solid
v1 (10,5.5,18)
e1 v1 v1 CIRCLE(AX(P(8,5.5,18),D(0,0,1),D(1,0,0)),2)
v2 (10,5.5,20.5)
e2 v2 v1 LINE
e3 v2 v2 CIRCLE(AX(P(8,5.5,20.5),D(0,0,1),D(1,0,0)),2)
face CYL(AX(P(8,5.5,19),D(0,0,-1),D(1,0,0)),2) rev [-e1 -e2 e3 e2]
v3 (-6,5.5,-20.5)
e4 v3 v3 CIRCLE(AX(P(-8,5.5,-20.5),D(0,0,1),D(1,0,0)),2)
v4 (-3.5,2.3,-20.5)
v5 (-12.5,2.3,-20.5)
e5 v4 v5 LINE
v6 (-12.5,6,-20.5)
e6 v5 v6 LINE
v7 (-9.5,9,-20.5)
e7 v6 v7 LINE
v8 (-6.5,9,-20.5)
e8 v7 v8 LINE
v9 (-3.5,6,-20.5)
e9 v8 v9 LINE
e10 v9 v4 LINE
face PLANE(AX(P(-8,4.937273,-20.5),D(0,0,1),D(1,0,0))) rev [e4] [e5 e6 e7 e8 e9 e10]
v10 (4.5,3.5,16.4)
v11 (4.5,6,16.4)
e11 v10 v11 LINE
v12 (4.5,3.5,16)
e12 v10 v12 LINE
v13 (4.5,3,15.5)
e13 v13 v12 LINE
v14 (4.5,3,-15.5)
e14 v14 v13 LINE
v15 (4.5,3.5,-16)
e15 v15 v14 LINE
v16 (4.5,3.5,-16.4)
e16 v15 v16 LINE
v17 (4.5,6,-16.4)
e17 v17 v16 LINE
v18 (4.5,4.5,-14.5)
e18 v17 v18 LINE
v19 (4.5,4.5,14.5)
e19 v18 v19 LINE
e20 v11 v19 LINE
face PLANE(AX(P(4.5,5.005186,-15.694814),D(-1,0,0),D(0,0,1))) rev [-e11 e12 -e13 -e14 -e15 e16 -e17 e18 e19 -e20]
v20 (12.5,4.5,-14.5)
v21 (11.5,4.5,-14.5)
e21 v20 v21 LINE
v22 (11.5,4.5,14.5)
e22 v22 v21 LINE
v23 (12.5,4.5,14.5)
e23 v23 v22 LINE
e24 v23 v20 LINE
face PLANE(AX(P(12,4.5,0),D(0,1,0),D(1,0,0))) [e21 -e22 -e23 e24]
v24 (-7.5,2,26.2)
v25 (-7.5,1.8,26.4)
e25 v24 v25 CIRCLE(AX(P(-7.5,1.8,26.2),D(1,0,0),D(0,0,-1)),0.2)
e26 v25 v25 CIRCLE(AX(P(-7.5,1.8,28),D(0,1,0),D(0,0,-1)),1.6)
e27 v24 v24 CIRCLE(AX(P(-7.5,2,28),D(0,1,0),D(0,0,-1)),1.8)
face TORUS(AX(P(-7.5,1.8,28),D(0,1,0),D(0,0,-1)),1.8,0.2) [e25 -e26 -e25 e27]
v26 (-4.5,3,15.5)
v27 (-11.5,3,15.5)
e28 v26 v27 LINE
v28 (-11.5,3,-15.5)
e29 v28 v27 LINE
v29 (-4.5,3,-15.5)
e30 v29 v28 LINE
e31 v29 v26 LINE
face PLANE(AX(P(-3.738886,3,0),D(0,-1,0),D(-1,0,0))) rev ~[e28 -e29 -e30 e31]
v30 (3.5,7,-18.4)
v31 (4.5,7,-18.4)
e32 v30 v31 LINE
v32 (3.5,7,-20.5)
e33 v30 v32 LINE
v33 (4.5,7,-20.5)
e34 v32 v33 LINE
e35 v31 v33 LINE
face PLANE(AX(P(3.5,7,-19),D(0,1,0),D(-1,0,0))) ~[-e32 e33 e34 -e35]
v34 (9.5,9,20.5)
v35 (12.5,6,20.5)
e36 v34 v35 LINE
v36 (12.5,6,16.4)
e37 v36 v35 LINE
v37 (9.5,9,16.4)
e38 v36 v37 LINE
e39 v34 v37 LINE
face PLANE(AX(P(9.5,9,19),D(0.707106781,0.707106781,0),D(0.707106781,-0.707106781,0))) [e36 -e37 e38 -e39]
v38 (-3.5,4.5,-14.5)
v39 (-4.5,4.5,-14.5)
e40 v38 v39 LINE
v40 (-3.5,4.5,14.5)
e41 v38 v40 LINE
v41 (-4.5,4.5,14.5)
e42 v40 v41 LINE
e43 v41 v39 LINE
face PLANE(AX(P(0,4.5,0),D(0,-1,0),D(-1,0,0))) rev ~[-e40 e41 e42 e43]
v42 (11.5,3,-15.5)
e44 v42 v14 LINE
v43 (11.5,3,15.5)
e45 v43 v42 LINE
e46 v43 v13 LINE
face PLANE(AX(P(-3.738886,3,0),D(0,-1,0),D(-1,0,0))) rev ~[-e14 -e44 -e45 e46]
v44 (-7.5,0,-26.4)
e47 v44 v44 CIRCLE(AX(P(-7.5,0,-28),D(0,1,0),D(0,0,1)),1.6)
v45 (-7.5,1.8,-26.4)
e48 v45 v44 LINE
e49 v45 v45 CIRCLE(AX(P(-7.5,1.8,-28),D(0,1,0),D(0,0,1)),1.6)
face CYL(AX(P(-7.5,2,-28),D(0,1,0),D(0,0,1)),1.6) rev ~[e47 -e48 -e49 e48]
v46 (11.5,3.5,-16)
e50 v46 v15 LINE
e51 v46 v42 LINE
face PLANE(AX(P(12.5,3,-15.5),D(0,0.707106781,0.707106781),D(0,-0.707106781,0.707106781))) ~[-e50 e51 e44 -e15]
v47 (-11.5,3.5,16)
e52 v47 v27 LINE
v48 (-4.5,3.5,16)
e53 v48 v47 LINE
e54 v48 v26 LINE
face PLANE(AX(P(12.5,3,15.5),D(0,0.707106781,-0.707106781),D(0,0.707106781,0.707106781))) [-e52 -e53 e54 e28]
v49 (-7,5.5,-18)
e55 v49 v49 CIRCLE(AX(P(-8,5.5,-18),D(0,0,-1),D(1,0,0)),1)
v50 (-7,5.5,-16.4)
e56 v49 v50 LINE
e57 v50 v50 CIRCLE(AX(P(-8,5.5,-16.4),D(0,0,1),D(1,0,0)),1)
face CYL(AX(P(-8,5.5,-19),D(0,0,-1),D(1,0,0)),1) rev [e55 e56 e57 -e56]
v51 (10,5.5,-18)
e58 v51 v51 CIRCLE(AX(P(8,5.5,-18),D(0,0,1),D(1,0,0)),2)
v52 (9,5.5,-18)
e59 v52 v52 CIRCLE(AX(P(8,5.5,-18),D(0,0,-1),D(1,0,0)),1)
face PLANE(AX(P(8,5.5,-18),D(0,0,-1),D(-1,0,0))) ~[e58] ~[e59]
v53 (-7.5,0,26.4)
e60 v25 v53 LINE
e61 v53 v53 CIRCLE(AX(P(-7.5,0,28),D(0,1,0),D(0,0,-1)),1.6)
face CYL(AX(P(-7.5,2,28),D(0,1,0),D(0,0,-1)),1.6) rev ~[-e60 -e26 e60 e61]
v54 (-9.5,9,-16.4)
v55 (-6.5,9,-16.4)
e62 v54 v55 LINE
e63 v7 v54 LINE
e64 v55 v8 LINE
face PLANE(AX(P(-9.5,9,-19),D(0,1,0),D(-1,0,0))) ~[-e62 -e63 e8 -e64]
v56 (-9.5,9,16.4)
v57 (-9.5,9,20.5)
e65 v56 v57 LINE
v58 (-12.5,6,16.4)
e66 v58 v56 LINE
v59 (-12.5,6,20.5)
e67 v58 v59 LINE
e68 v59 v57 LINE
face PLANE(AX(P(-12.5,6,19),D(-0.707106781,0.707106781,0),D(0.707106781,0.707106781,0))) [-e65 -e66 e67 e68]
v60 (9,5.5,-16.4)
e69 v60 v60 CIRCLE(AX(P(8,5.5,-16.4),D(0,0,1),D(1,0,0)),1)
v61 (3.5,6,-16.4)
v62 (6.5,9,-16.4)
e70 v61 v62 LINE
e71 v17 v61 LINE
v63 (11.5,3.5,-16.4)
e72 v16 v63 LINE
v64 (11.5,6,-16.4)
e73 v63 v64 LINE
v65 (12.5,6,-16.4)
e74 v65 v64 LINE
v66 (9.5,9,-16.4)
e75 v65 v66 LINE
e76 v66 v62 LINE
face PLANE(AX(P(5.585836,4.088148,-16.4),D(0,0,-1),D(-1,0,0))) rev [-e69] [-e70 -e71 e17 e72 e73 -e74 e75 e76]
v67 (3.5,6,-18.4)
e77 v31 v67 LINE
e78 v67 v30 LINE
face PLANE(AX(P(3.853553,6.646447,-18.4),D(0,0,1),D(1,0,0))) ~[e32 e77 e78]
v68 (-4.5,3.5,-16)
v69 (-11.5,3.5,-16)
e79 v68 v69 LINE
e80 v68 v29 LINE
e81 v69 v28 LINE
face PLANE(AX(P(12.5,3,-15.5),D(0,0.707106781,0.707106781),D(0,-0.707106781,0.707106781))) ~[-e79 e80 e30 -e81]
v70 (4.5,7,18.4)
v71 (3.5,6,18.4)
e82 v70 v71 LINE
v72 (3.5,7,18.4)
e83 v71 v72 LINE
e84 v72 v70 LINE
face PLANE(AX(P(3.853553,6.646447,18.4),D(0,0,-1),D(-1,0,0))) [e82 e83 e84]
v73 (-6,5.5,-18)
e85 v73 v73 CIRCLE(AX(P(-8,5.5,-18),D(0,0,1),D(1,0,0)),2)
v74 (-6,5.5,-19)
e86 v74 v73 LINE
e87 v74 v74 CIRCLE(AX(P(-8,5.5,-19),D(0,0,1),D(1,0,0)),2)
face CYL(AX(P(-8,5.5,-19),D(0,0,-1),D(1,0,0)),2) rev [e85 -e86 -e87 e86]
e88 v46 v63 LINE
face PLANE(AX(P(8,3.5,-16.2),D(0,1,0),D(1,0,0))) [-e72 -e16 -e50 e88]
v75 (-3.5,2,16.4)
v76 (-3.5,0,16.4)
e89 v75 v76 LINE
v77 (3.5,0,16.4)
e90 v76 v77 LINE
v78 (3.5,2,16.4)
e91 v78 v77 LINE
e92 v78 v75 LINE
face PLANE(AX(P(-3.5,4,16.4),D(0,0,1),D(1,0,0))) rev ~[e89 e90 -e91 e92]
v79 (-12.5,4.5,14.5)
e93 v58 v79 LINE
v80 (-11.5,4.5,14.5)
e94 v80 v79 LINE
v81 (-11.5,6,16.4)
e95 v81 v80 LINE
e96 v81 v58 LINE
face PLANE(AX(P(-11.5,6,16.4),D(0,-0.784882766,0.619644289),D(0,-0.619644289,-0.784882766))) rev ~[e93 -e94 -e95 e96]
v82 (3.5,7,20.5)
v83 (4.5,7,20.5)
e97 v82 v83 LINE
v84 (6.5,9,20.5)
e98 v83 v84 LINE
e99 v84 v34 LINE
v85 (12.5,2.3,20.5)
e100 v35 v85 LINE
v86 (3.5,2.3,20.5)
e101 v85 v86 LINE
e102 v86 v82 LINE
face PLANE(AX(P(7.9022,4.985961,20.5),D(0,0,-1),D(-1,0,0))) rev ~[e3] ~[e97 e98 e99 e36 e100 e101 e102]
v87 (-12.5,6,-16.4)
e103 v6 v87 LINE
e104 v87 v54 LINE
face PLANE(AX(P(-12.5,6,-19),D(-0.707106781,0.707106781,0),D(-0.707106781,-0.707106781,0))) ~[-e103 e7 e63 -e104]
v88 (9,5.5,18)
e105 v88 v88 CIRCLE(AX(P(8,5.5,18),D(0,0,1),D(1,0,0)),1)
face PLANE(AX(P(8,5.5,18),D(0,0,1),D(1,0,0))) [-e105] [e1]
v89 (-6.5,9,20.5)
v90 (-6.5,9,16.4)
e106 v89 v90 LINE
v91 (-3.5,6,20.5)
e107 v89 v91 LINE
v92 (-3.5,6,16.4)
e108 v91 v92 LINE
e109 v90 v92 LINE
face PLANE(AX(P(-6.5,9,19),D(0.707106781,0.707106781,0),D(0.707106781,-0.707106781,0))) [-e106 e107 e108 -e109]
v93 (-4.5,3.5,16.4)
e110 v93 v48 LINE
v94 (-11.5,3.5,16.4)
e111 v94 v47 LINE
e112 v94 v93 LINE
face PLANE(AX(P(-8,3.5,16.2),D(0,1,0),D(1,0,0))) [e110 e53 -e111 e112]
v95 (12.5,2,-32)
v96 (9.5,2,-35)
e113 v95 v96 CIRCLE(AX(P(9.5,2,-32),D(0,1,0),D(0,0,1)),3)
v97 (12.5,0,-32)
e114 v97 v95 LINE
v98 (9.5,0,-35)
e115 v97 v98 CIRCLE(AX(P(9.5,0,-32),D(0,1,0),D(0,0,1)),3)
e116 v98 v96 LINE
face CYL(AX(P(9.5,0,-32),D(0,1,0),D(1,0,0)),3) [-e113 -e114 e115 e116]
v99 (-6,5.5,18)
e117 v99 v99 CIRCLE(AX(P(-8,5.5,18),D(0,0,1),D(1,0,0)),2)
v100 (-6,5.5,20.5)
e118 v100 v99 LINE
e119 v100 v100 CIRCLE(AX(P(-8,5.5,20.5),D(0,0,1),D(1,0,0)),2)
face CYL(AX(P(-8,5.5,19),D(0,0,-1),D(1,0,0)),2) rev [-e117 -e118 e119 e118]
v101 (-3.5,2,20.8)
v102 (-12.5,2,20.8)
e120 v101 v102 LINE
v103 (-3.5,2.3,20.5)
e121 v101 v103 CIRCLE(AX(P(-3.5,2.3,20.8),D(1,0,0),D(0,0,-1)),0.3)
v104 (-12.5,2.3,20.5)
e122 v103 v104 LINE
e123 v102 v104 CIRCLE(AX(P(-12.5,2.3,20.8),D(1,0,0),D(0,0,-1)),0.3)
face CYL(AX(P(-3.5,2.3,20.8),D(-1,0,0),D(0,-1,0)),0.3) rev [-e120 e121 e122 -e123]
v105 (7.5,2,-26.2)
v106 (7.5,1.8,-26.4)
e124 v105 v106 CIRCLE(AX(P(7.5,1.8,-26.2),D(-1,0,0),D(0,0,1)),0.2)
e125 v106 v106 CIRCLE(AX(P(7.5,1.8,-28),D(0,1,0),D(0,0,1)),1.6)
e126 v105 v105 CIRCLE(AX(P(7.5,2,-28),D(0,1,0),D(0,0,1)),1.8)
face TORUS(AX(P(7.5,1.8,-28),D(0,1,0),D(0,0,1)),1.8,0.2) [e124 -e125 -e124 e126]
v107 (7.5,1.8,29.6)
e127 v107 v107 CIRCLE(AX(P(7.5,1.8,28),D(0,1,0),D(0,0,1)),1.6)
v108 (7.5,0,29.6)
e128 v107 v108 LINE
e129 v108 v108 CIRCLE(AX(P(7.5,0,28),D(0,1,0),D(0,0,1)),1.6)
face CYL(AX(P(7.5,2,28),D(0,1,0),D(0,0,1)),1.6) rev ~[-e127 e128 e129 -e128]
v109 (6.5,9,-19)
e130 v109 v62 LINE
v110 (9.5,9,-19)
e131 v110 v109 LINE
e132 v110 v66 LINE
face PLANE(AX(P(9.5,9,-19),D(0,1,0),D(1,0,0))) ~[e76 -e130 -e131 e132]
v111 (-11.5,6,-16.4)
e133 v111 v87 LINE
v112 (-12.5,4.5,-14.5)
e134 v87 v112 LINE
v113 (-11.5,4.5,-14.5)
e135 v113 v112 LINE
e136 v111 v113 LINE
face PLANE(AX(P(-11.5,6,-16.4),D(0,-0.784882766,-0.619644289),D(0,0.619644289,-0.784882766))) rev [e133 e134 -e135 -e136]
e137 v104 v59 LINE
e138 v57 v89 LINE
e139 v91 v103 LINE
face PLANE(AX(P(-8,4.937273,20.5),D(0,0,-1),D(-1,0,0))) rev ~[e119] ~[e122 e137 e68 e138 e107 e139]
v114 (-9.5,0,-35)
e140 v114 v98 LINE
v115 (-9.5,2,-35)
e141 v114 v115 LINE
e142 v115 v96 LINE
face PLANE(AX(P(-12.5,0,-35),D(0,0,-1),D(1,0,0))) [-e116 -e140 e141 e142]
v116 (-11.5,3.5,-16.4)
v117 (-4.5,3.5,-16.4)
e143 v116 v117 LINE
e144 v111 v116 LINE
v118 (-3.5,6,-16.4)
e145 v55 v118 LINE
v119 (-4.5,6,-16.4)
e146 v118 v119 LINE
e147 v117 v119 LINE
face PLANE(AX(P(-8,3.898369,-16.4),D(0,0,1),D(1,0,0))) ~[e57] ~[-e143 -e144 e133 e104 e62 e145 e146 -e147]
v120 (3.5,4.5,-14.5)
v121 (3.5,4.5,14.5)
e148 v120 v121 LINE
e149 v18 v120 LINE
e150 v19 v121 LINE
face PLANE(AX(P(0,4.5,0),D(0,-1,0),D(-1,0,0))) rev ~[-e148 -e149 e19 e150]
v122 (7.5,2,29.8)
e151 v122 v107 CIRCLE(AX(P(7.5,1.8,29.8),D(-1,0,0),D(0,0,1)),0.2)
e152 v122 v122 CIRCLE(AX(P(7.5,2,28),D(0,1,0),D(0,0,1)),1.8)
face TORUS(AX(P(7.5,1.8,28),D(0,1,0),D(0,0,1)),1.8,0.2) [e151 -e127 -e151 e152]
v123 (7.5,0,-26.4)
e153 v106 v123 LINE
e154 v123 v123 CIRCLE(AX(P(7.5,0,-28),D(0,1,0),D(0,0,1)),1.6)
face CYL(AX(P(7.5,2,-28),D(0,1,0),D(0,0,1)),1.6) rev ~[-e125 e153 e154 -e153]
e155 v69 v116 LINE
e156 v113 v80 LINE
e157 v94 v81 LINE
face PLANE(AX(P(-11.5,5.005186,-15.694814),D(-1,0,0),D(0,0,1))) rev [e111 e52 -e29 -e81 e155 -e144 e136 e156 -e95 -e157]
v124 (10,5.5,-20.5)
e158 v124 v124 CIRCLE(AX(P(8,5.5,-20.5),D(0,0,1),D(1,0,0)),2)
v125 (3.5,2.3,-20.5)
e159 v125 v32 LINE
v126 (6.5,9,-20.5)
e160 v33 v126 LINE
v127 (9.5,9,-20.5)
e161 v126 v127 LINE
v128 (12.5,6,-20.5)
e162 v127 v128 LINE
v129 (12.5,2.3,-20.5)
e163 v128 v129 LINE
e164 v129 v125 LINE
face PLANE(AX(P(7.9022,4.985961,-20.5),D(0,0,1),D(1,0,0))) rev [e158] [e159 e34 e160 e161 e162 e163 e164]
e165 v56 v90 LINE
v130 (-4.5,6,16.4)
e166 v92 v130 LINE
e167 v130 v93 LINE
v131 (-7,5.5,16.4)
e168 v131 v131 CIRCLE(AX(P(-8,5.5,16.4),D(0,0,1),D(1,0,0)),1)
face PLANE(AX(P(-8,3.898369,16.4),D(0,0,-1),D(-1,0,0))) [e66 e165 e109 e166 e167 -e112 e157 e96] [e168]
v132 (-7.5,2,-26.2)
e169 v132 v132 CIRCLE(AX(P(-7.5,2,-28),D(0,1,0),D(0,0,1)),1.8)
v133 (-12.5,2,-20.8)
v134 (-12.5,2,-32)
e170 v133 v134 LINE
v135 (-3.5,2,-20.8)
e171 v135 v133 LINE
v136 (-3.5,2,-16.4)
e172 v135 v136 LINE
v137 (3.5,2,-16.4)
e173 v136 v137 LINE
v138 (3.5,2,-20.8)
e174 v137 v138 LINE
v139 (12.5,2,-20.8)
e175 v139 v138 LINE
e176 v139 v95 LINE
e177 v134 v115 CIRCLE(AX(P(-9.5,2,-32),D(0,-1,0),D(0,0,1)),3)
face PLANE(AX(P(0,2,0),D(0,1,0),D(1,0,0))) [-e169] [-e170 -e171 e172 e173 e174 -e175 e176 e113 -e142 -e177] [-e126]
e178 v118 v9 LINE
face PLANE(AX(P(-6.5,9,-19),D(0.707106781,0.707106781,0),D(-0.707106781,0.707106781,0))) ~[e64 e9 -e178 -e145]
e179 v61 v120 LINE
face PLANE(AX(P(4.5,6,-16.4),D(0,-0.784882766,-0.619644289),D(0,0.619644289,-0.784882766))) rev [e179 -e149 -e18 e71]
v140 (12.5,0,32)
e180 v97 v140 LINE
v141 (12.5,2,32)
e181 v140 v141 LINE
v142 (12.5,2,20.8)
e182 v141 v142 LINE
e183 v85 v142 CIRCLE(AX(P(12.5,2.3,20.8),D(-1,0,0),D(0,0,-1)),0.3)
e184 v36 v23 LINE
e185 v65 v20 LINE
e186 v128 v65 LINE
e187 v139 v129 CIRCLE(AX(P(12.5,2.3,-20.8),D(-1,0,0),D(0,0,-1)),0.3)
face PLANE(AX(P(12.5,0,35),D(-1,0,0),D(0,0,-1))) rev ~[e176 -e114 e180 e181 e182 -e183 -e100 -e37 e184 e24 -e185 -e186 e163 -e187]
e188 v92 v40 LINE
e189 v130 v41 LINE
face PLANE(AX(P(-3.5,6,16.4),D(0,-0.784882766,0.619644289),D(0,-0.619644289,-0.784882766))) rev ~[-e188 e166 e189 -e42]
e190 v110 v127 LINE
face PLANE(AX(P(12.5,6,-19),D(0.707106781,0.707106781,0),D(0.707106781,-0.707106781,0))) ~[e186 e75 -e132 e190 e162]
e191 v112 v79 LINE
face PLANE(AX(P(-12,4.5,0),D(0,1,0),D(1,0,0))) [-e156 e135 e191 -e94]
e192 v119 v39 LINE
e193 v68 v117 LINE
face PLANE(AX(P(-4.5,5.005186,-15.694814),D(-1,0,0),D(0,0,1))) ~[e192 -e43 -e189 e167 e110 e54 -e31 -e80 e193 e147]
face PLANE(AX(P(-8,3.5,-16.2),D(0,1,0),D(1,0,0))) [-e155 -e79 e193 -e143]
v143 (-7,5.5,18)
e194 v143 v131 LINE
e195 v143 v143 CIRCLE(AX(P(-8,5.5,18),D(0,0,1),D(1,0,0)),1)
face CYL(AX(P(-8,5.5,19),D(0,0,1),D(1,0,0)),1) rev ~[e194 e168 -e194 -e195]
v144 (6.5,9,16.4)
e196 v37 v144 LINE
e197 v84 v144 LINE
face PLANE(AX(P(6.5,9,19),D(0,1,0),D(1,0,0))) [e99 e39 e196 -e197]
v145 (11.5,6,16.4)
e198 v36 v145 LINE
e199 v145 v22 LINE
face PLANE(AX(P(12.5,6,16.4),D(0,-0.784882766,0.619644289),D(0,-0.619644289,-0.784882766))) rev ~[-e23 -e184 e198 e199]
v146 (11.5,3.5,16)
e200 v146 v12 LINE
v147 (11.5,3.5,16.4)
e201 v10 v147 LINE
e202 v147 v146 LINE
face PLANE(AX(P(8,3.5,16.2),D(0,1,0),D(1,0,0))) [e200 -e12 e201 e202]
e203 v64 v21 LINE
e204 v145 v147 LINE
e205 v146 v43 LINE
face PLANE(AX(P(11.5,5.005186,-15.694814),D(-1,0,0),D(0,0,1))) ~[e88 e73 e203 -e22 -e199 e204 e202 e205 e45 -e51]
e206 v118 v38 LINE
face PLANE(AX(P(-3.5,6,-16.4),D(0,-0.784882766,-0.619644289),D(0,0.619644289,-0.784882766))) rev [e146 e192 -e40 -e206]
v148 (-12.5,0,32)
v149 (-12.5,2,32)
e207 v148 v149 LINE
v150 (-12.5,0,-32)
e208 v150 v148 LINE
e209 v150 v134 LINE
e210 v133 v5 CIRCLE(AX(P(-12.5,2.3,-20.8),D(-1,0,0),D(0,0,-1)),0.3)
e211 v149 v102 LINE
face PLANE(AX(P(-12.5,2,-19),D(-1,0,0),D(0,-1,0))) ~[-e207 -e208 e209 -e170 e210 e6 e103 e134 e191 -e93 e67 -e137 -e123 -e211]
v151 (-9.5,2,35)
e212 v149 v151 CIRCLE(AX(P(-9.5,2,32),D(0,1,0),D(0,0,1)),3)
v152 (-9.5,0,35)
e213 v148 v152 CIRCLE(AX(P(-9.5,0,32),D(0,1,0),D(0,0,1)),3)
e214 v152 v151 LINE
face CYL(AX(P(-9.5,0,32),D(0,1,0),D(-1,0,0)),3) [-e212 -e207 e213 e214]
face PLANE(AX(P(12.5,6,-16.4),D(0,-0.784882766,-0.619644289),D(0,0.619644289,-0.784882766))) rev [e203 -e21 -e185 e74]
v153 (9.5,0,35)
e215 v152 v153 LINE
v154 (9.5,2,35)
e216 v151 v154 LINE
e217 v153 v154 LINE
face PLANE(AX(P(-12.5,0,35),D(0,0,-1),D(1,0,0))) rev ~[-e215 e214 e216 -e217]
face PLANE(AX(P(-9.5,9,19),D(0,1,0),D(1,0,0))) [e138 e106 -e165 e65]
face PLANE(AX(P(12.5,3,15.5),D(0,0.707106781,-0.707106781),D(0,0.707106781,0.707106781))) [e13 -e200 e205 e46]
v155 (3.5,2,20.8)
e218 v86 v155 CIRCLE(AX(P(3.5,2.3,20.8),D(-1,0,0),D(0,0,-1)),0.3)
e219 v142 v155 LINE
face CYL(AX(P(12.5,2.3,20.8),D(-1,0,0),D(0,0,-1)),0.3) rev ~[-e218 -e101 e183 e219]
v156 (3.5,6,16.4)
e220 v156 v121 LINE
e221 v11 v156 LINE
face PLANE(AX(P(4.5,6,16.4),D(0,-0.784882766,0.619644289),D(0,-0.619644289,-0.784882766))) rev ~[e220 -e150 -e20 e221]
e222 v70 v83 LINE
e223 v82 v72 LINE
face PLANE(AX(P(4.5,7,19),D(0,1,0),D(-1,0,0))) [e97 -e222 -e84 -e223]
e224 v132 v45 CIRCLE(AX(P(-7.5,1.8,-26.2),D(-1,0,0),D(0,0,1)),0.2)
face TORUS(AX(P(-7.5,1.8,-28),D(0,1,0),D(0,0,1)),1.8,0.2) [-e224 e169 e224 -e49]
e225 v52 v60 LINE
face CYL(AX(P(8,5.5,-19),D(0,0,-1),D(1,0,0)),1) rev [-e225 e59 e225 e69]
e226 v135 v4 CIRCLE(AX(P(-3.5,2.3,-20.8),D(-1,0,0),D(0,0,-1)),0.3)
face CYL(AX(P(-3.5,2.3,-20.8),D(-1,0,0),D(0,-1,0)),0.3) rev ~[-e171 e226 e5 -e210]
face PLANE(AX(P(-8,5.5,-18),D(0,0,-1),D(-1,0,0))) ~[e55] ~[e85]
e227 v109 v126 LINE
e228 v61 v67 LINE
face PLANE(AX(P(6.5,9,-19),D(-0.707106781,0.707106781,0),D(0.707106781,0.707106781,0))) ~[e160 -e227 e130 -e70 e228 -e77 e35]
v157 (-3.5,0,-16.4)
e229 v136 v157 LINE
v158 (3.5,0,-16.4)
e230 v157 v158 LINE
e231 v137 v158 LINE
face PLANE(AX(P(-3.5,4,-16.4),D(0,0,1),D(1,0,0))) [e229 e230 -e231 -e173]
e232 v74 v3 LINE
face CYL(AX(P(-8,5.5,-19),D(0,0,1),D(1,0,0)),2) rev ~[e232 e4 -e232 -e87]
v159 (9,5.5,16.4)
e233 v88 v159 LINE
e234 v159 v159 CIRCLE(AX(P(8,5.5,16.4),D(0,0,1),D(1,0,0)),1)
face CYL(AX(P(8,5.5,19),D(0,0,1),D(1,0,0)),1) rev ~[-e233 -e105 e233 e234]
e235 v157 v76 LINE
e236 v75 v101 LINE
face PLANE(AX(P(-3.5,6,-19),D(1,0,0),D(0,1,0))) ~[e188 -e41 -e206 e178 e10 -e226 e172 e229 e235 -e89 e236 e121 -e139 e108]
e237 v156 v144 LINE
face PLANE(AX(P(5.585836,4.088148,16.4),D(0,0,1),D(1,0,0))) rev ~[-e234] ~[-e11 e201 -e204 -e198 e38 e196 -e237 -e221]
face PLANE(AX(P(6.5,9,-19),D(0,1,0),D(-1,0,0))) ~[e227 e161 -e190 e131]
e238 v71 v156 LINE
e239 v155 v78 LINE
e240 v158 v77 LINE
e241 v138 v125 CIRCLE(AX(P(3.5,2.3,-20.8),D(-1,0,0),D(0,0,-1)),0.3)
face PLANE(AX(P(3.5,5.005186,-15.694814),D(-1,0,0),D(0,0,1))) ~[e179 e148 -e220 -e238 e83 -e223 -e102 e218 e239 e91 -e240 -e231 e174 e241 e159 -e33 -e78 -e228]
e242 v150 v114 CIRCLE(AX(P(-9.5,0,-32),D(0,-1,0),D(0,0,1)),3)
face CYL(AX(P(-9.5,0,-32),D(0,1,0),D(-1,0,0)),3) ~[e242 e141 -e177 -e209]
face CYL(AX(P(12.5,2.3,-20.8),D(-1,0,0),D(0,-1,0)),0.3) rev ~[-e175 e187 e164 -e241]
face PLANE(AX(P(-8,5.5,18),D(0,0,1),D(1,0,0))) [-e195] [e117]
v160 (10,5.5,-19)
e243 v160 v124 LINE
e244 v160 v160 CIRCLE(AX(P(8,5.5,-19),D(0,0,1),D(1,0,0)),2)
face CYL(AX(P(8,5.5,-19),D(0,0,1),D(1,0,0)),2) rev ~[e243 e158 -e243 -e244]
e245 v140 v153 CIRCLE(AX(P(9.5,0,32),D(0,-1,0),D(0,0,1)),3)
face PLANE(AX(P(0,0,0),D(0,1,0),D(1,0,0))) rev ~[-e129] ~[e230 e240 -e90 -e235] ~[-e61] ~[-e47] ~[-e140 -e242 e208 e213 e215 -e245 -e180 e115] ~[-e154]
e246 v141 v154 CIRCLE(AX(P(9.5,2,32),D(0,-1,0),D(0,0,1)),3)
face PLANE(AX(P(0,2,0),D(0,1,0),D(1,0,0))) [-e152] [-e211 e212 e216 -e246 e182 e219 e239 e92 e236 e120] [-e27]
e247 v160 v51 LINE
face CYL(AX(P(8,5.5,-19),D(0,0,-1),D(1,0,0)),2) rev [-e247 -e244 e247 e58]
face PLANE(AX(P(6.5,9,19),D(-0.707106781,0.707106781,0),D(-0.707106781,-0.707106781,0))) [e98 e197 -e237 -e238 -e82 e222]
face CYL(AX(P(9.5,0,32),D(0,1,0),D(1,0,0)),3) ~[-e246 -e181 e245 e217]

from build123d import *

# Parameters (mm, degrees)
SKETCH1_R                = 1.5
SKETCH1_R_2              = 1
SKETCH1_W                = 6
SKETCH1_H                = 10
EXTRUDE1_DEPTH           = 3
EXTRUDE2_DEPTH           = 4
EXTRUDE3_DEPTH           = 4
SKETCH7_W                = 1
SKETCH7_H                = 38
SKETCH7_W_2              = 6
SKETCH7_H_2              = 10
EXTRUDE4_DEPTH           = 4.5
EXTRUDE5_DEPTH           = 6
SKETCH9_R                = 5.5
SKETCH9_R_2              = 1.5
EXTRUDE10_DEPTH          = 3.5
EXTRUDE11_DEPTH          = 6
EXTRUDE12_DEPTH          = 4
CUT_EXTRUDE1_DEPTH       = 4
CUT_EXTRUDE2_DEPTH       = 4
SKETCH16_R               = 1
EXTRUDE13_DEPTH          = 2.6
CUT_EXTRUDE4_DEPTH       = 3
CUT_EXTRUDE5_DEPTH       = 32.906112267
CUT_EXTRUDE6_DEPTH       = 2
EXTRUDE14_DEPTH          = 25
EXTRUDE15_DEPTH          = 1
EXTRUDE17_DEPTH          = 1
EXTRUDE18_DEPTH          = 1
EXTRUDE19_DEPTH          = 1
CUT_EXTRUDE7_DEPTH       = 43.121847063
SKETCH26_R               = 2
CUT_EXTRUDE8_DEPTH       = 1
SKETCH27_R               = 4
CUT_EXTRUDE9_DEPTH       = 1.5
SKETCH28_R               = 4
CUT_EXTRUDE10_DEPTH      = 1
CUT_EXTRUDE11_DEPTH      = 1.5
FILLET4_R                = 0.25
CUT_EXTRUDE12_DEPTH      = 1.5
SKETCH31_W               = 16.002833782
SKETCH31_H               = 38
CUT_EXTRUDE13_DEPTH      = 32.906112267
CUT_EXTRUDE14_DEPTH      = 14.5
CUT_EXTRUDE14_DEPTH_BACK = 14.5
EXTRUDE20_DEPTH          = 15
EXTRUDE20_DEPTH_BACK     = 15
EXTRUDE21_DEPTH          = 1
CUT_EXTRUDE15_DEPTH      = 0.5
SKETCH36_R               = 1
CUT_EXTRUDE16_DEPTH      = 10.5
SKETCH37_W               = 7
SKETCH37_H               = 2.6
CUT_EXTRUDE18_DEPTH      = 25.459149617
SKETCH38_W               = 25
SKETCH38_H               = 70
BOSS_EXTRUDE1_DEPTH      = 2
FILLET5_R                = 3
SKETCH40_W               = 7
SKETCH40_H               = 22
CUT_EXTRUDE20_DEPTH      = 1
SKETCH41_W               = 7
SKETCH41_H               = 20
BOSS_EXTRUDE2_DEPTH      = 1
SKETCH44_W               = 7
SKETCH44_H               = 10.4
CUT_EXTRUDE22_DEPTH      = 38.5
SKETCH45_W               = 7
SKETCH45_H               = 12
CUT_EXTRUDE23_DEPTH      = 38.436613095
SKETCH46_W               = 7
SKETCH46_H               = 0.4
BOSS_EXTRUDE3_DEPTH      = 0.5
SKETCH47_R               = 2
BOSS_EXTRUDE4_DEPTH      = 1.5
FILLET6_R                = 0.3
SKETCH49_R               = 1.6
CUT_EXTRUDE24_DEPTH      = 38.818646195
FILLET7_R                = 0.2


with BuildPart() as part:
    # Sketch1 → Extrude1 (new body)
    with BuildSketch(Plane(origin=(0, 0, 0), x_dir=(1, 0, 0), z_dir=(0, 1, 0))):
        with BuildLine():
            Line((-12.5, -19), (-12.5, -12.75))
            ThreePointArc((-12.5, -12.75), (-13.085786438, -11.335786438), (-14.5, -10.75))
            Line((-14.5, -10.75), (-19, -10.75))
            ThreePointArc((-19, -10.75), (-22.535533906, -9.285533906), (-24, -5.75))
            Line((-24, -5.75), (-24, 5.75))
            ThreePointArc((-24, 5.75), (-22.535533906, 9.285533906), (-19, 10.75))
            Line((-19, 10.75), (-14.5, 10.75))
            ThreePointArc((-14.5, 10.75), (-13.085786438, 11.335786438), (-12.5, 12.75))
            Line((-12.5, 12.75), (-12.5, 19))
            Line((-12.5, 19), (12.5, 19))
            Line((12.5, 19), (12.5, -19))
            Line((12.5, -19), (-12.5, -19))
        make_face()
        with Locations(Location((-14.5, 0, 0), (0, 0, 270))):
            Circle(SKETCH1_R, mode=Mode.SUBTRACT)
        with Locations(Location((0, 8, 0), (0, 0, 270))):
            Circle(SKETCH1_R_2, mode=Mode.SUBTRACT)
        with Locations(Location((8, 0, 0), (0, 0, 270))):
            Circle(SKETCH1_R_2, mode=Mode.SUBTRACT)
        with Locations(Location((0, -8, 0), (0, 0, 270))):
            Circle(SKETCH1_R_2, mode=Mode.SUBTRACT)
        with Locations(Location((-8, 0, 0), (0, 0, 270))):
            Circle(SKETCH1_R_2, mode=Mode.SUBTRACT)
        with Locations(Location((-20.156854249, 5.656854249, 0), (0, 0, 270))):
            Circle(SKETCH1_R_2, mode=Mode.SUBTRACT)
        with Locations(Location((-20.156854249, -5.656854249, 0), (0, 0, 270))):
            Circle(SKETCH1_R_2, mode=Mode.SUBTRACT)
        with Locations(Location((-8.843145751, -5.656854249, 0), (0, 0, 270))):
            Circle(SKETCH1_R_2, mode=Mode.SUBTRACT)
        with Locations(Location((-8.843145751, 5.656854249, 0), (0, 0, 270))):
            Circle(SKETCH1_R_2, mode=Mode.SUBTRACT)
        with Locations(Location((8, 8, 0), (0, 0, 270))):
            Circle(SKETCH1_R_2, mode=Mode.SUBTRACT)
        with Locations(Location((8, -8, 0), (0, 0, 270))):
            Circle(SKETCH1_R_2, mode=Mode.SUBTRACT)
        Rectangle(SKETCH1_W, SKETCH1_H, mode=Mode.SUBTRACT)
    extrude(amount=EXTRUDE1_DEPTH)

    # Sketch2 → Extrude2 (add)
    # profile 1 of 4: a face of its own
    with BuildSketch(Plane(origin=(0, 0, 0), x_dir=(1, 0, 0), z_dir=(0, 1, 0))):
        Polygon((-19.260278777, -2.310789035), (-16.810789035, -4.760278777), (-17.707364507, -8.106343992), (-21.053429722, -9.002919464), (-23.502919464, -6.553429722), (-22.606343992, -3.207364507), align=None)
        Polygon((-19.559663372, -3.426127712), (-17.926258803, -5.058709362), (-18.523413702, -7.289570039), (-20.75397317, -7.887849066), (-22.387377739, -6.255267415), (-21.79022284, -4.024406738), align=None, mode=Mode.SUBTRACT)
    # profile 2 of 4: a face of its own
    with BuildSketch(Plane(origin=(0, 0, 0), x_dir=(1, 0, 0), z_dir=(0, 1, 0))):
        Polygon((-6.393656008, 3.207364507), (-9.739721223, 2.310789035), (-12.189210965, 4.760278777), (-11.292635493, 8.106343992), (-7.946570278, 9.002919464), (-5.497080536, 6.553429722), align=None)
        Polygon((-7.210429961, 4.023413702), (-9.441290638, 3.426258803), (-11.073872288, 5.059663372), (-10.475593262, 7.29022284), (-8.244732585, 7.887377739), (-6.612150934, 6.25397317), align=None, mode=Mode.SUBTRACT)
    # profile 3 of 4: a face of its own
    with BuildSketch(Plane(origin=(0, 0, 0), x_dir=(1, 0, 0), z_dir=(0, 1, 0))):
        Polygon((-16.810789035, 4.760278777), (-19.260278777, 2.310789035), (-22.606343992, 3.207364507), (-23.502919464, 6.553429722), (-21.053429722, 9.002919464), (-17.707364507, 8.106343992), align=None)
        Polygon((-17.926127712, 5.059663372), (-19.558709362, 3.426258803), (-21.789570039, 4.023413702), (-22.387849066, 6.25397317), (-20.755267415, 7.887377739), (-18.524406738, 7.29022284), align=None, mode=Mode.SUBTRACT)
    # profile 4 of 4: a face of its own
    with BuildSketch(Plane(origin=(0, 0, 0), x_dir=(1, 0, 0), z_dir=(0, 1, 0))):
        Polygon((-12.189210965, -4.760278777), (-9.739721223, -2.310789035), (-6.393656008, -3.207364507), (-5.497080536, -6.553429722), (-7.946570278, -9.002919464), (-11.292635493, -8.106343992), align=None)
        Polygon((-11.073872288, -5.059663372), (-9.441290638, -3.426258803), (-7.210429961, -4.023413702), (-6.612150934, -6.25397317), (-8.244732585, -7.887377739), (-10.475593262, -7.29022284), align=None, mode=Mode.SUBTRACT)
    extrude(amount=EXTRUDE2_DEPTH)

    # Sketch5 → Extrude3 (add)
    # profile 1 of 6: a face of its own
    with BuildSketch(Plane(origin=(0, 0, 0), x_dir=(1, 0, 0), z_dir=(0, 1, 0))):
        Polygon((-3.464101615, -8), (-1.732050808, -11), (1.732050808, -11), (3.464101615, -8), (1.732050808, -5), (-1.732050808, -5), align=None)
        Polygon((-2.309401077, -8), (-1.154700538, -10), (1.154700538, -10), (2.309401077, -8), (1.154700538, -6), (-1.154700538, -6), align=None, mode=Mode.SUBTRACT)
    # profile 2 of 6: a face of its own
    with BuildSketch(Plane(origin=(0, 0, 0), x_dir=(1, 0, 0), z_dir=(0, 1, 0))):
        Polygon((-1.732050808, 11), (1.732050808, 11), (3.464101615, 8), (1.732050808, 5), (-1.732050808, 5), (-3.464101615, 8), align=None)
        Polygon((-1.154700538, 10), (1.154700538, 10), (2.309401077, 8), (1.154700538, 6), (-1.154700538, 6), (-2.309401077, 8), align=None, mode=Mode.SUBTRACT)
    # profile 3 of 6: a face of its own
    with BuildSketch(Plane(origin=(0, 0, 0), x_dir=(1, 0, 0), z_dir=(0, 1, 0))):
        Polygon((11.464101615, 8), (9.732050808, 11), (6.267949192, 11), (4.535898385, 8), (6.267949192, 5), (9.732050808, 5), align=None)
        Polygon((10.309401077, 8), (9.154700538, 10), (6.845299462, 10), (5.690598923, 8), (6.845299462, 6), (9.154700538, 6), align=None, mode=Mode.SUBTRACT)
    # profile 4 of 6: a face of its own
    with BuildSketch(Plane(origin=(0, 0, 0), x_dir=(1, 0, 0), z_dir=(0, 1, 0))):
        Polygon((9.732050808, -11), (6.267949192, -11), (4.535898385, -8), (6.267949192, -5), (9.732050808, -5), (11.464101615, -8), align=None)
        Polygon((9.154700538, -10), (6.845299462, -10), (5.690598923, -8), (6.845299462, -6), (9.154700538, -6), (10.309401077, -8), align=None, mode=Mode.SUBTRACT)
    # profile 5 of 6: a face of its own
    with BuildSketch(Plane(origin=(0, 0, 0), x_dir=(1, 0, 0), z_dir=(0, 1, 0))):
        Polygon((9.732050808, -3), (6.267949192, -3), (4.535898385, 0), (6.267949192, 3), (9.732050808, 3), (11.464101615, 0), align=None)
        Polygon((9.154700538, -2), (6.845299462, -2), (5.690598923, 0), (6.845299462, 2), (9.154700538, 2), (10.309401077, 0), align=None, mode=Mode.SUBTRACT)
    # profile 6 of 6: a face of its own
    with BuildSketch(Plane(origin=(0, 0, 0), x_dir=(1, 0, 0), z_dir=(0, 1, 0))):
        Polygon((-11, -1.732050808), (-11, 1.732050808), (-8, 3.464101615), (-5, 1.732050808), (-5, -1.732050808), (-8, -3.464101615), align=None)
        Polygon((-10, -1.154700538), (-10, 1.154700538), (-8, 2.309401077), (-6, 1.154700538), (-6, -1.154700538), (-8, -2.309401077), align=None, mode=Mode.SUBTRACT)
    extrude(amount=EXTRUDE3_DEPTH)

    # Sketch7 → Extrude4 (add)
    # profile 1 of 3: a face of its own
    with BuildSketch(Plane(origin=(0, 0, 0), x_dir=(1, 0, 0), z_dir=(0, 1, 0))):
        with Locations((-12, 0)):
            Rectangle(SKETCH7_W, SKETCH7_H)
    # profile 2 of 3: a face of its own
    with BuildSketch(Plane(origin=(0, 0, 0), x_dir=(1, 0, 0), z_dir=(0, 1, 0))):
        Polygon((-4.5, 19), (-3.5, 19), (-3.5, 6), (3.5, 6), (3.5, 19), (4.5, 19), (4.5, -19), (3.5, -19), (3.5, -6), (-3.5, -6), (-3.5, -19), (-4.5, -19), align=None)
        Rectangle(SKETCH7_W_2, SKETCH7_H_2, mode=Mode.SUBTRACT)
    # profile 3 of 3: a face of its own
    with BuildSketch(Plane(origin=(0, 0, 0), x_dir=(1, 0, 0), z_dir=(0, 1, 0))):
        with Locations((12, 0)):
            Rectangle(SKETCH7_W, SKETCH7_H)
    extrude(amount=EXTRUDE4_DEPTH)

    # Sketch8 → Extrude5 (add)
    with BuildSketch(Plane(origin=(0, 0, 0), x_dir=(1, 0, 0), z_dir=(0, 1, 0))):
        with BuildLine():
            Line((-11.5, -9.748913396), (-11.5, -10.25))
            ThreePointArc((-11.5, -10.25), (-11.646446609, -10.603553391), (-12, -10.75))
            Line((-12, -10.75), (-19, -10.75))
            ThreePointArc((-19, -10.75), (-22.535533906, -9.285533906), (-24, -5.75))
            Line((-24, -5.75), (-24, 5.751086604))
            ThreePointArc((-24, 5.751086604), (-22.535533906, 9.28662051), (-19, 10.751086604))
            Line((-19, 10.751086604), (-12, 10.751086604))
            ThreePointArc((-12, 10.751086604), (-11.646446609, 10.604639995), (-11.5, 10.251086604))
            Line((-11.5, 10.251086604), (-11.5, 9.751086604))
            ThreePointArc((-11.5, 9.751086604), (-11.646446609, 9.397533214), (-12, 9.251086604))
            Line((-12, 9.251086604), (-19, 9.251086604))
            ThreePointArc((-19, 9.251086604), (-21.474873734, 8.225960339), (-22.5, 5.751086604))
            Line((-22.5, 5.751086604), (-22.5, -5.748913396))
            ThreePointArc((-22.5, -5.748913396), (-21.474873734, -8.22378713), (-19, -9.248913396))
            Line((-19, -9.248913396), (-12, -9.248913396))
            ThreePointArc((-12, -9.248913396), (-11.646446609, -9.395360005), (-11.5, -9.748913396))
        make_face()
    extrude(amount=EXTRUDE5_DEPTH)

    # Sketch9 → Extrude10 (add)
    with BuildSketch(Plane(origin=(0, 0, 0), x_dir=(1, 0, 0), z_dir=(0, 1, 0))):
        with Locations((-14.5, 0)):
            Circle(SKETCH9_R)
        with Locations(Location((-14.5, 0, 0), (0, 0, 270))):
            Circle(SKETCH9_R_2, mode=Mode.SUBTRACT)
    extrude(amount=EXTRUDE10_DEPTH)

    # Sketch10 → Extrude11 (add)
    with BuildSketch(Plane(origin=(0, 0, 0), x_dir=(1, 0, 0), z_dir=(0, 1, 0))):
        Polygon((-16.953738644, 4.25), (-12.046261356, 4.25), (-9.592522712, 0), (-12.046261356, -4.25), (-16.953738644, -4.25), (-19.407477288, 0), align=None)
        Polygon((-16.232050808, 3), (-12.767949192, 3), (-11.035898385, 0), (-12.767949192, -3), (-16.232050808, -3), (-17.964101615, 0), align=None, mode=Mode.SUBTRACT)
    extrude(amount=EXTRUDE11_DEPTH)

    # Sketch12 → Extrude12 (add)
    with BuildSketch(Plane(origin=(0, 0, 0), x_dir=(1, 0, 0), z_dir=(0, 1, 0))):
        with BuildLine():
            Line((-11.5, 4.609772229), (-11.5, -4.609772229))
            ThreePointArc((-11.5, -4.609772229), (-9, 0), (-11.5, 4.609772229))
        make_face()
    extrude(amount=EXTRUDE12_DEPTH)

    # Sketch13 → Cut-Extrude1 (cut)
    with BuildSketch(Plane(origin=(0, 3.5, 0), x_dir=(-1, 0, 0), z_dir=(0, 1, 0))):
        Polygon((11.035898385, 0), (12.767949192, 3), (16.232050808, 3), (17.964101615, 0), (16.232050808, -3), (12.767949192, -3), align=None)
    extrude(amount=CUT_EXTRUDE1_DEPTH, mode=Mode.SUBTRACT)

    # Sketch14 → Cut-Extrude2 (cut)
    with BuildSketch(Plane(origin=(0, 3, 0), x_dir=(-1, 0, 0), z_dir=(0, 1, 0))):
        Polygon((8, -2.309401077), (10, -1.154700538), (10, 1.154700538), (8, 2.309401077), align=None)
    extrude(amount=CUT_EXTRUDE2_DEPTH, mode=Mode.SUBTRACT)

    # Sketch16 → Extrude13 (add)
    # profile 1 of 2: a face of its own
    with BuildSketch(Plane.XY.offset(19)):
        Polygon((12.5, 0), (12.5, 6), (9.5, 9), (6.5, 9), (4.5, 7), (0.5, 7), (-2.5, 6), (-2.5, 3), (0.5, 2), (3.5, 2), (3.5, 0), align=None)
        with Locations((8, 5.5)):
            Circle(SKETCH16_R, mode=Mode.SUBTRACT)
    # profile 2 of 2: a face of its own
    with BuildSketch(Plane.XY.offset(19)):
        Polygon((-6.5, 9), (-3.5, 6), (-3.5, 0), (-12.5, 0), (-12.5, 6), (-9.5, 9), align=None)
        with Locations((-8, 5.5)):
            Circle(SKETCH16_R, mode=Mode.SUBTRACT)
    extrude13 = extrude(amount=-EXTRUDE13_DEPTH)

    # Sketch17 → Cut-Extrude4 (cut)
    with BuildSketch(Plane.XY.offset(19)):
        Polygon((-2.5, 3), (0.5, 2), (4.5, 2), (4.5, 0), (-3.5, 0), (-3.5, 3), align=None)
    cut_extrude4 = extrude(amount=-CUT_EXTRUDE4_DEPTH, mode=Mode.SUBTRACT)

    # Sketch18 → Cut-Extrude5 (cut, through all)
    with BuildSketch(Plane(origin=(0, 0, 0), x_dir=(1, 0, 0), z_dir=(0, 1, 0))):
        with BuildLine():
            Line((-2.5, -16.4), (3.5, -16.4))
            Line((3.5, -16.4), (3.5, -18))
            Line((3.5, -18), (-1.5, -18))
            ThreePointArc((-1.5, -18), (-2, -17.5), (-2.5, -18))
            Line((-2.5, -18), (-2.5, -16.4))
        make_face()
    cut_extrude5 = extrude(amount=CUT_EXTRUDE5_DEPTH, mode=Mode.SUBTRACT)

    # Sketch19 → Cut-Extrude6 (cut)
    with BuildSketch(Plane(origin=(0, 0, 16.4), x_dir=(-1, 0, 0), z_dir=(0, 0, -1))):
        Polygon((-4.5, 7), (-3.5, 6), (-3.5, 7), align=None)
    cut_extrude6 = extrude(amount=-CUT_EXTRUDE6_DEPTH, mode=Mode.SUBTRACT)

    # Sketch20 → Extrude14 (add)
    with BuildSketch(Plane(origin=(12.5, 0, 0), x_dir=(0, 0, -1), z_dir=(1, 0, 0))):
        Polygon((-16, 3), (-15.5, 3), (-16, 3.5), align=None)
    extrude14 = extrude(amount=-EXTRUDE14_DEPTH)

    # Sketch21 → Extrude15 (add)
    with BuildSketch(Plane(origin=(12.5, 0, 0), x_dir=(0, 0, -1), z_dir=(1, 0, 0))):
        Polygon((-16.4, 6), (-14.5, 4.5), (-16.4, 4.5), align=None)
    extrude15 = extrude(amount=-EXTRUDE15_DEPTH)

    # Sketch22 → Extrude17 (add)
    with BuildSketch(Plane(origin=(4.5, 0, 0), x_dir=(0, 0, -1), z_dir=(1, 0, 0))):
        Polygon((-16.4, 6), (-14.5, 4.5), (-16.4, 4.5), align=None)
    extrude17 = extrude(amount=-EXTRUDE17_DEPTH)

    # Sketch23 → Extrude18 (add)
    with BuildSketch(Plane(origin=(-3.5, 0, 0), x_dir=(0, 0, -1), z_dir=(1, 0, 0))):
        Polygon((-16.4, 6), (-14.5, 4.5), (-16.4, 4.5), align=None)
    extrude18 = extrude(amount=-EXTRUDE18_DEPTH)

    # Sketch24 → Extrude19 (add)
    with BuildSketch(Plane(origin=(-11.5, 0, 0), x_dir=(0, 0, -1), z_dir=(1, 0, 0))):
        Polygon((-16.4, 6), (-14.5, 4.5), (-16.4, 4.5), align=None)
    extrude19 = extrude(amount=-EXTRUDE19_DEPTH)

    # Sketch25 → Cut-Extrude7 (cut, through all)
    with BuildSketch(Plane(origin=(12.5, 0, 0), x_dir=(0, 0, -1), z_dir=(1, 0, 0))):
        Polygon((-19, 0), (-17, 0), (-19, 2), align=None)
    cut_extrude7 = extrude(amount=-CUT_EXTRUDE7_DEPTH, mode=Mode.SUBTRACT)

    # Sketch26 → Cut-Extrude8 (cut)
    with BuildSketch(Plane.XY.offset(19)):
        with Locations((-8, 5.5)):
            Circle(SKETCH26_R)
        with Locations((8, 5.5)):
            Circle(SKETCH26_R)
    cut_extrude8 = extrude(amount=-CUT_EXTRUDE8_DEPTH, mode=Mode.SUBTRACT)

    # Mirror1: Extrude13, Cut-Extrude4, Cut-Extrude5, Cut-Extrude6, Extrude14, Extrude15, Extrude17, Extrude18, Extrude19, Cut-Extrude7, Cut-Extrude8 across plane
    add(extrude13.mirror(Plane.XY))
    add(cut_extrude4.mirror(Plane.XY), mode=Mode.SUBTRACT)
    add(cut_extrude5.mirror(Plane.XY), mode=Mode.SUBTRACT)
    add(cut_extrude6.mirror(Plane.XY), mode=Mode.SUBTRACT)
    add(extrude14.mirror(Plane.XY))
    add(extrude15.mirror(Plane.XY))
    add(extrude17.mirror(Plane.XY))
    add(extrude18.mirror(Plane.XY))
    add(extrude19.mirror(Plane.XY))
    add(cut_extrude7.mirror(Plane.XY), mode=Mode.SUBTRACT)
    add(cut_extrude8.mirror(Plane.XY), mode=Mode.SUBTRACT)

    # Sketch27 → Cut-Extrude9 (cut)
    with BuildSketch(Plane.XZ):
        Circle(SKETCH27_R)
    extrude(amount=-CUT_EXTRUDE9_DEPTH, mode=Mode.SUBTRACT)

    # Sketch28 → Cut-Extrude10 (cut)
    with BuildSketch(Plane.XZ):
        with Locations(Location((-14.5, 0, 0), (0, 0, 270))):
            Circle(SKETCH28_R)
    extrude(amount=-CUT_EXTRUDE10_DEPTH, mode=Mode.SUBTRACT)

    # Sketch29 → Cut-Extrude11 (cut)
    with BuildSketch(Plane.ZY.offset(24)):
        with BuildLine():
            Line((-2.500543302, 6), (2.499456698, 6))
            ThreePointArc((2.499456698, 6), (1.91367026, 4.585786438), (0.499456698, 4))
            Line((0.499456698, 4), (-0.500543302, 4))
            ThreePointArc((-0.500543302, 4), (-1.914756865, 4.585786438), (-2.500543302, 6))
        make_face()
    extrude(amount=-CUT_EXTRUDE11_DEPTH, mode=Mode.SUBTRACT)

    # Fillet4
    fillet4_edges = [part.edges().sort_by_distance(p)[0] for p in [
        (-11.023130678, 6, -2.477885683),
        (-10, 6, 0),
        (-14.5, 6, -4.25),
        (-18.180607966, 6, -2.125),
        (-18.180607966, 6, 2.125),
        (-14.5, 6, 4.25),
        (-11.023130678, 6, 2.477885683),
        (-17.098076211, 6, -1.5),
        (-17.098076211, 6, 1.5),
        (-14.5, 6, 3),
        (-11.901923789, 6, 1.5),
        (-11.901923789, 6, -1.5),
        (-14.5, 6, -3),
    ]]
    fillet(fillet4_edges, radius=FILLET4_R)

    # Sketch30 → Cut-Extrude12 (cut)
    with BuildSketch(Plane(origin=(0, 3.5, 0), x_dir=(-1, 0, 0), z_dir=(0, 1, 0))):
        Polygon((16.232050808, -3), (12.767949192, -3), (11.035898385, 0), (12.767949192, 3), (16.232050808, 3), (17.964101615, 0), align=None)
    extrude(amount=-CUT_EXTRUDE12_DEPTH, mode=Mode.SUBTRACT)

    # Sketch31 → Cut-Extrude13 (cut, through all)
    with BuildSketch(Plane.XZ):
        with Locations((-20.501416891, 0)):
            Rectangle(SKETCH31_W, SKETCH31_H)
    extrude(amount=-CUT_EXTRUDE13_DEPTH, mode=Mode.SUBTRACT)

    # Sketch32 → Cut-Extrude14 (cut, two sides: drawn at the far end of the back side and taken through both)
    with BuildSketch(Plane(origin=(0, 0, 0), x_dir=(-1, 0, 0), z_dir=(0, 0, -1)).offset(-CUT_EXTRUDE14_DEPTH_BACK)):
        Polygon((12.837931972, 9.642365277), (4.5, 4.5), (4.5, 3), (11.5, 3), (11.5, 4.5), (12.837931972, 4.5), align=None)
    extrude(amount=CUT_EXTRUDE14_DEPTH + CUT_EXTRUDE14_DEPTH_BACK, mode=Mode.SUBTRACT)

    # Sketch33 → Extrude20 (add, two sides: drawn at the far end of the back side and taken through both)
    with BuildSketch(Plane.XY.offset(-EXTRUDE20_DEPTH_BACK)):
        Polygon((-4.5, 0), (-12.5, 0), (-12.5, 4.5), (-11.5, 4.5), (-11.5, 3), (-4.5, 3), align=None)
    extrude(amount=EXTRUDE20_DEPTH + EXTRUDE20_DEPTH_BACK)

    # Sketch34 → Extrude21 (add)
    # profile 1 of 3: a face of its own
    with BuildSketch(Plane(origin=(0, 3, 0), x_dir=(-1, 0, 0), z_dir=(0, 1, 0))):
        Polygon((6.267949192, 5), (4.535898385, 8), (6.267949192, 11), (9.732050808, 11), (11.464101615, 8), (9.732050808, 5), align=None)
        Polygon((6.845299462, 6), (5.690598923, 8), (6.845299462, 10), (9.154700538, 10), (10.309401077, 8), (9.154700538, 6), align=None, mode=Mode.SUBTRACT)
    # profile 2 of 3: a face of its own
    with BuildSketch(Plane(origin=(0, 3, 0), x_dir=(-1, 0, 0), z_dir=(0, 1, 0))):
        Polygon((6.267949192, -3), (4.535898385, 0), (6.267949192, 3), (9.732050808, 3), (11.464101615, 0), (9.732050808, -3), align=None)
        Polygon((6.845299462, -2), (5.690598923, 0), (6.845299462, 2), (9.154700538, 2), (10.309401077, 0), (9.154700538, -2), align=None, mode=Mode.SUBTRACT)
    # profile 3 of 3: a face of its own
    with BuildSketch(Plane(origin=(0, 3, 0), x_dir=(-1, 0, 0), z_dir=(0, 1, 0))):
        Polygon((6.267949192, -11), (4.535898385, -8), (6.267949192, -5), (9.732050808, -5), (11.464101615, -8), (9.732050808, -11), align=None)
        Polygon((6.845299462, -10), (5.690598923, -8), (6.845299462, -6), (9.154700538, -6), (10.309401077, -8), (9.154700538, -10), align=None, mode=Mode.SUBTRACT)
    extrude(amount=EXTRUDE21_DEPTH)

    # Sketch35 → Cut-Extrude15 (cut)
    with BuildSketch(Plane(origin=(0, 3, 0), x_dir=(-1, 0, 0), z_dir=(0, 1, 0))):
        Polygon((10.309401077, -8), (9.154700538, -6), (6.845299462, -6), (5.690598923, -8), (6.845299462, -10), (9.154700538, -10), align=None)
        Polygon((10.309401077, 0), (9.154700538, 2), (6.845299462, 2), (5.690598923, 0), (6.845299462, -2), (9.154700538, -2), align=None)
        Polygon((-2.309401077, -8), (-1.154700538, -6), (1.154700538, -6), (2.309401077, -8), (1.154700538, -10), (-1.154700538, -10), align=None)
        Polygon((10.309401077, 8), (9.154700538, 10), (6.845299462, 10), (5.690598923, 8), (6.845299462, 6), (9.154700538, 6), align=None)
        Polygon((-1.154700538, 6), (1.154700538, 6), (2.309401077, 8), (1.154700538, 10), (-1.154700538, 10), (-2.309401077, 8), align=None)
        Polygon((-5.690598923, 0), (-6.845299462, -2), (-9.154700538, -2), (-10.309401077, 0), (-9.154700538, 2), (-6.845299462, 2), align=None)
        Polygon((-9.154700538, 6), (-10.309401077, 8), (-9.154700538, 10), (-6.845299462, 10), (-5.690598923, 8), (-6.845299462, 6), align=None)
        Polygon((-9.154700538, -10), (-10.309401077, -8), (-9.154700538, -6), (-6.845299462, -6), (-5.690598923, -8), (-6.845299462, -10), align=None)
    extrude(amount=-CUT_EXTRUDE15_DEPTH, mode=Mode.SUBTRACT)

    # Sketch36 → Cut-Extrude16 (cut)
    with BuildSketch(Plane.XZ):
        with Locations(Location((-8, 8, 0), (0, 0, 270))):
            Circle(SKETCH36_R)
        with Locations(Location((-8, 0, 0), (0, 0, 270))):
            Circle(SKETCH36_R)
        with Locations(Location((-8, -8, 0), (0, 0, 270))):
            Circle(SKETCH36_R)
    extrude(amount=-CUT_EXTRUDE16_DEPTH, mode=Mode.SUBTRACT)

    # Sketch37 → Cut-Extrude18 (cut, through all)
    with BuildSketch(Plane(origin=(0, 0, 0), x_dir=(1, 0, 0), z_dir=(0, 1, 0))):
        with Locations((0, 17.7)):
            Rectangle(SKETCH37_W, SKETCH37_H)
        with Locations((0, -17.7)):
            Rectangle(SKETCH37_W, SKETCH37_H)
    extrude(amount=CUT_EXTRUDE18_DEPTH, mode=Mode.SUBTRACT)

    # Sketch38 → Boss-Extrude1 (add)
    with BuildSketch(Plane(origin=(0, 0, 0), x_dir=(1, 0, 0), z_dir=(0, 1, 0))):
        Rectangle(SKETCH38_W, SKETCH38_H)
    extrude(amount=BOSS_EXTRUDE1_DEPTH)

    # Fillet5
    fillet5_edges = [part.edges().sort_by_distance(p)[0] for p in [
        (12.5, 1, 35),
        (-12.5, 1, -35),
        (-12.5, 1, 35),
        (12.5, 1, -35),
    ]]
    fillet(fillet5_edges, radius=FILLET5_R)

    # Sketch40 → Cut-Extrude20 (cut)
    with BuildSketch(Plane(origin=(0, 4, 0), x_dir=(1, 0, 0), z_dir=(0, 1, 0))):
        with Locations((8, 0)):
            Rectangle(SKETCH40_W, SKETCH40_H)
        with Locations((-8, 0)):
            Rectangle(SKETCH40_W, SKETCH40_H)
    extrude(amount=-CUT_EXTRUDE20_DEPTH, mode=Mode.SUBTRACT)

    # Sketch41 → Boss-Extrude2 (add)
    with BuildSketch(Plane(origin=(0, 2, 0), x_dir=(1, 0, 0), z_dir=(0, 1, 0))):
        with Locations((8, 0)):
            Rectangle(SKETCH41_W, SKETCH41_H)
        with Locations((-8, 0)):
            Rectangle(SKETCH41_W, SKETCH41_H)
    extrude(amount=BOSS_EXTRUDE2_DEPTH)

    # Sketch44 → Cut-Extrude22 (cut, through all)
    with BuildSketch(Plane(origin=(0, 4, 0), x_dir=(1, 0, 0), z_dir=(0, 1, 0))):
        with Locations((0, 11.2)):
            Rectangle(SKETCH44_W, SKETCH44_H)
        with Locations((0, -11.2)):
            Rectangle(SKETCH44_W, SKETCH44_H)
    extrude(amount=-CUT_EXTRUDE22_DEPTH, mode=Mode.SUBTRACT)

    # Sketch45 → Cut-Extrude23 (cut, through all)
    with BuildSketch(Plane(origin=(0, 4.5, 0), x_dir=(1, 0, 0), z_dir=(0, 1, 0))):
        Rectangle(SKETCH45_W, SKETCH45_H)
    extrude(amount=-CUT_EXTRUDE23_DEPTH, mode=Mode.SUBTRACT)

    # Sketch46 → Boss-Extrude3 (add)
    with BuildSketch(Plane(origin=(0, 3, 0), x_dir=(1, 0, 0), z_dir=(0, 1, 0))):
        with Locations((-8, 16.2)):
            Rectangle(SKETCH46_W, SKETCH46_H)
        with Locations((8, 16.2)):
            Rectangle(SKETCH46_W, SKETCH46_H)
        with Locations((8, -16.2)):
            Rectangle(SKETCH46_W, SKETCH46_H)
        with Locations((-8, -16.2)):
            Rectangle(SKETCH46_W, SKETCH46_H)
    extrude(amount=BOSS_EXTRUDE3_DEPTH)

    # Sketch47 → Boss-Extrude4 (add)
    # profile 1 of 2: a face of its own
    with BuildSketch(Plane.XY.offset(19)):
        Polygon((-9.5, 9), (-6.5, 9), (-3.5, 6), (-3.5, 2), (-12.5, 2), (-12.5, 6), align=None)
        with Locations((-8, 5.5)):
            Circle(SKETCH47_R, mode=Mode.SUBTRACT)
    # profile 2 of 2: a face of its own
    with BuildSketch(Plane.XY.offset(19)):
        Polygon((3.5, 7), (4.5, 7), (6.5, 9), (9.5, 9), (12.5, 6), (12.5, 2), (3.5, 2), align=None)
        with Locations((8, 5.5)):
            Circle(SKETCH47_R, mode=Mode.SUBTRACT)
    boss_extrude4 = extrude(amount=BOSS_EXTRUDE4_DEPTH)

    # Mirror2: Boss-Extrude4 across plane
    add(boss_extrude4.mirror(Plane.XY))

    # Fillet6
    fillet6_edges = [part.edges().sort_by_distance(p)[0] for p in [
        (-8, 2, 20.5),
        (8, 2, 20.5),
        (-8, 2, -20.5),
        (8, 2, -20.5),
    ]]
    fillet(fillet6_edges, radius=FILLET6_R)

    # Sketch49 → Cut-Extrude24 (cut, through all)
    with BuildSketch(Plane(origin=(0, 2, 0), x_dir=(1, 0, 0), z_dir=(0, 1, 0))):
        with Locations(Location((7.5, 28, 0), (0, 0, 270))):
            Circle(SKETCH49_R)
        with Locations(Location((-7.5, 28, 0), (0, 0, 270))):
            Circle(SKETCH49_R)
        with Locations(Location((-7.5, -28, 0), (0, 0, 90))):
            Circle(SKETCH49_R)
        with Locations(Location((7.5, -28, 0), (0, 0, 270))):
            Circle(SKETCH49_R)
    extrude(amount=-CUT_EXTRUDE24_DEPTH, mode=Mode.SUBTRACT)

    # Fillet7
    fillet7_edges = [part.edges().sort_by_distance(p)[0] for p in [
        (7.5, 2, -29.6),
        (-7.5, 2, -29.6),
        (-7.5, 2, 29.6),
        (7.5, 2, 26.4),
    ]]
    fillet(fillet7_edges, radius=FILLET7_R)


solid = part.part
